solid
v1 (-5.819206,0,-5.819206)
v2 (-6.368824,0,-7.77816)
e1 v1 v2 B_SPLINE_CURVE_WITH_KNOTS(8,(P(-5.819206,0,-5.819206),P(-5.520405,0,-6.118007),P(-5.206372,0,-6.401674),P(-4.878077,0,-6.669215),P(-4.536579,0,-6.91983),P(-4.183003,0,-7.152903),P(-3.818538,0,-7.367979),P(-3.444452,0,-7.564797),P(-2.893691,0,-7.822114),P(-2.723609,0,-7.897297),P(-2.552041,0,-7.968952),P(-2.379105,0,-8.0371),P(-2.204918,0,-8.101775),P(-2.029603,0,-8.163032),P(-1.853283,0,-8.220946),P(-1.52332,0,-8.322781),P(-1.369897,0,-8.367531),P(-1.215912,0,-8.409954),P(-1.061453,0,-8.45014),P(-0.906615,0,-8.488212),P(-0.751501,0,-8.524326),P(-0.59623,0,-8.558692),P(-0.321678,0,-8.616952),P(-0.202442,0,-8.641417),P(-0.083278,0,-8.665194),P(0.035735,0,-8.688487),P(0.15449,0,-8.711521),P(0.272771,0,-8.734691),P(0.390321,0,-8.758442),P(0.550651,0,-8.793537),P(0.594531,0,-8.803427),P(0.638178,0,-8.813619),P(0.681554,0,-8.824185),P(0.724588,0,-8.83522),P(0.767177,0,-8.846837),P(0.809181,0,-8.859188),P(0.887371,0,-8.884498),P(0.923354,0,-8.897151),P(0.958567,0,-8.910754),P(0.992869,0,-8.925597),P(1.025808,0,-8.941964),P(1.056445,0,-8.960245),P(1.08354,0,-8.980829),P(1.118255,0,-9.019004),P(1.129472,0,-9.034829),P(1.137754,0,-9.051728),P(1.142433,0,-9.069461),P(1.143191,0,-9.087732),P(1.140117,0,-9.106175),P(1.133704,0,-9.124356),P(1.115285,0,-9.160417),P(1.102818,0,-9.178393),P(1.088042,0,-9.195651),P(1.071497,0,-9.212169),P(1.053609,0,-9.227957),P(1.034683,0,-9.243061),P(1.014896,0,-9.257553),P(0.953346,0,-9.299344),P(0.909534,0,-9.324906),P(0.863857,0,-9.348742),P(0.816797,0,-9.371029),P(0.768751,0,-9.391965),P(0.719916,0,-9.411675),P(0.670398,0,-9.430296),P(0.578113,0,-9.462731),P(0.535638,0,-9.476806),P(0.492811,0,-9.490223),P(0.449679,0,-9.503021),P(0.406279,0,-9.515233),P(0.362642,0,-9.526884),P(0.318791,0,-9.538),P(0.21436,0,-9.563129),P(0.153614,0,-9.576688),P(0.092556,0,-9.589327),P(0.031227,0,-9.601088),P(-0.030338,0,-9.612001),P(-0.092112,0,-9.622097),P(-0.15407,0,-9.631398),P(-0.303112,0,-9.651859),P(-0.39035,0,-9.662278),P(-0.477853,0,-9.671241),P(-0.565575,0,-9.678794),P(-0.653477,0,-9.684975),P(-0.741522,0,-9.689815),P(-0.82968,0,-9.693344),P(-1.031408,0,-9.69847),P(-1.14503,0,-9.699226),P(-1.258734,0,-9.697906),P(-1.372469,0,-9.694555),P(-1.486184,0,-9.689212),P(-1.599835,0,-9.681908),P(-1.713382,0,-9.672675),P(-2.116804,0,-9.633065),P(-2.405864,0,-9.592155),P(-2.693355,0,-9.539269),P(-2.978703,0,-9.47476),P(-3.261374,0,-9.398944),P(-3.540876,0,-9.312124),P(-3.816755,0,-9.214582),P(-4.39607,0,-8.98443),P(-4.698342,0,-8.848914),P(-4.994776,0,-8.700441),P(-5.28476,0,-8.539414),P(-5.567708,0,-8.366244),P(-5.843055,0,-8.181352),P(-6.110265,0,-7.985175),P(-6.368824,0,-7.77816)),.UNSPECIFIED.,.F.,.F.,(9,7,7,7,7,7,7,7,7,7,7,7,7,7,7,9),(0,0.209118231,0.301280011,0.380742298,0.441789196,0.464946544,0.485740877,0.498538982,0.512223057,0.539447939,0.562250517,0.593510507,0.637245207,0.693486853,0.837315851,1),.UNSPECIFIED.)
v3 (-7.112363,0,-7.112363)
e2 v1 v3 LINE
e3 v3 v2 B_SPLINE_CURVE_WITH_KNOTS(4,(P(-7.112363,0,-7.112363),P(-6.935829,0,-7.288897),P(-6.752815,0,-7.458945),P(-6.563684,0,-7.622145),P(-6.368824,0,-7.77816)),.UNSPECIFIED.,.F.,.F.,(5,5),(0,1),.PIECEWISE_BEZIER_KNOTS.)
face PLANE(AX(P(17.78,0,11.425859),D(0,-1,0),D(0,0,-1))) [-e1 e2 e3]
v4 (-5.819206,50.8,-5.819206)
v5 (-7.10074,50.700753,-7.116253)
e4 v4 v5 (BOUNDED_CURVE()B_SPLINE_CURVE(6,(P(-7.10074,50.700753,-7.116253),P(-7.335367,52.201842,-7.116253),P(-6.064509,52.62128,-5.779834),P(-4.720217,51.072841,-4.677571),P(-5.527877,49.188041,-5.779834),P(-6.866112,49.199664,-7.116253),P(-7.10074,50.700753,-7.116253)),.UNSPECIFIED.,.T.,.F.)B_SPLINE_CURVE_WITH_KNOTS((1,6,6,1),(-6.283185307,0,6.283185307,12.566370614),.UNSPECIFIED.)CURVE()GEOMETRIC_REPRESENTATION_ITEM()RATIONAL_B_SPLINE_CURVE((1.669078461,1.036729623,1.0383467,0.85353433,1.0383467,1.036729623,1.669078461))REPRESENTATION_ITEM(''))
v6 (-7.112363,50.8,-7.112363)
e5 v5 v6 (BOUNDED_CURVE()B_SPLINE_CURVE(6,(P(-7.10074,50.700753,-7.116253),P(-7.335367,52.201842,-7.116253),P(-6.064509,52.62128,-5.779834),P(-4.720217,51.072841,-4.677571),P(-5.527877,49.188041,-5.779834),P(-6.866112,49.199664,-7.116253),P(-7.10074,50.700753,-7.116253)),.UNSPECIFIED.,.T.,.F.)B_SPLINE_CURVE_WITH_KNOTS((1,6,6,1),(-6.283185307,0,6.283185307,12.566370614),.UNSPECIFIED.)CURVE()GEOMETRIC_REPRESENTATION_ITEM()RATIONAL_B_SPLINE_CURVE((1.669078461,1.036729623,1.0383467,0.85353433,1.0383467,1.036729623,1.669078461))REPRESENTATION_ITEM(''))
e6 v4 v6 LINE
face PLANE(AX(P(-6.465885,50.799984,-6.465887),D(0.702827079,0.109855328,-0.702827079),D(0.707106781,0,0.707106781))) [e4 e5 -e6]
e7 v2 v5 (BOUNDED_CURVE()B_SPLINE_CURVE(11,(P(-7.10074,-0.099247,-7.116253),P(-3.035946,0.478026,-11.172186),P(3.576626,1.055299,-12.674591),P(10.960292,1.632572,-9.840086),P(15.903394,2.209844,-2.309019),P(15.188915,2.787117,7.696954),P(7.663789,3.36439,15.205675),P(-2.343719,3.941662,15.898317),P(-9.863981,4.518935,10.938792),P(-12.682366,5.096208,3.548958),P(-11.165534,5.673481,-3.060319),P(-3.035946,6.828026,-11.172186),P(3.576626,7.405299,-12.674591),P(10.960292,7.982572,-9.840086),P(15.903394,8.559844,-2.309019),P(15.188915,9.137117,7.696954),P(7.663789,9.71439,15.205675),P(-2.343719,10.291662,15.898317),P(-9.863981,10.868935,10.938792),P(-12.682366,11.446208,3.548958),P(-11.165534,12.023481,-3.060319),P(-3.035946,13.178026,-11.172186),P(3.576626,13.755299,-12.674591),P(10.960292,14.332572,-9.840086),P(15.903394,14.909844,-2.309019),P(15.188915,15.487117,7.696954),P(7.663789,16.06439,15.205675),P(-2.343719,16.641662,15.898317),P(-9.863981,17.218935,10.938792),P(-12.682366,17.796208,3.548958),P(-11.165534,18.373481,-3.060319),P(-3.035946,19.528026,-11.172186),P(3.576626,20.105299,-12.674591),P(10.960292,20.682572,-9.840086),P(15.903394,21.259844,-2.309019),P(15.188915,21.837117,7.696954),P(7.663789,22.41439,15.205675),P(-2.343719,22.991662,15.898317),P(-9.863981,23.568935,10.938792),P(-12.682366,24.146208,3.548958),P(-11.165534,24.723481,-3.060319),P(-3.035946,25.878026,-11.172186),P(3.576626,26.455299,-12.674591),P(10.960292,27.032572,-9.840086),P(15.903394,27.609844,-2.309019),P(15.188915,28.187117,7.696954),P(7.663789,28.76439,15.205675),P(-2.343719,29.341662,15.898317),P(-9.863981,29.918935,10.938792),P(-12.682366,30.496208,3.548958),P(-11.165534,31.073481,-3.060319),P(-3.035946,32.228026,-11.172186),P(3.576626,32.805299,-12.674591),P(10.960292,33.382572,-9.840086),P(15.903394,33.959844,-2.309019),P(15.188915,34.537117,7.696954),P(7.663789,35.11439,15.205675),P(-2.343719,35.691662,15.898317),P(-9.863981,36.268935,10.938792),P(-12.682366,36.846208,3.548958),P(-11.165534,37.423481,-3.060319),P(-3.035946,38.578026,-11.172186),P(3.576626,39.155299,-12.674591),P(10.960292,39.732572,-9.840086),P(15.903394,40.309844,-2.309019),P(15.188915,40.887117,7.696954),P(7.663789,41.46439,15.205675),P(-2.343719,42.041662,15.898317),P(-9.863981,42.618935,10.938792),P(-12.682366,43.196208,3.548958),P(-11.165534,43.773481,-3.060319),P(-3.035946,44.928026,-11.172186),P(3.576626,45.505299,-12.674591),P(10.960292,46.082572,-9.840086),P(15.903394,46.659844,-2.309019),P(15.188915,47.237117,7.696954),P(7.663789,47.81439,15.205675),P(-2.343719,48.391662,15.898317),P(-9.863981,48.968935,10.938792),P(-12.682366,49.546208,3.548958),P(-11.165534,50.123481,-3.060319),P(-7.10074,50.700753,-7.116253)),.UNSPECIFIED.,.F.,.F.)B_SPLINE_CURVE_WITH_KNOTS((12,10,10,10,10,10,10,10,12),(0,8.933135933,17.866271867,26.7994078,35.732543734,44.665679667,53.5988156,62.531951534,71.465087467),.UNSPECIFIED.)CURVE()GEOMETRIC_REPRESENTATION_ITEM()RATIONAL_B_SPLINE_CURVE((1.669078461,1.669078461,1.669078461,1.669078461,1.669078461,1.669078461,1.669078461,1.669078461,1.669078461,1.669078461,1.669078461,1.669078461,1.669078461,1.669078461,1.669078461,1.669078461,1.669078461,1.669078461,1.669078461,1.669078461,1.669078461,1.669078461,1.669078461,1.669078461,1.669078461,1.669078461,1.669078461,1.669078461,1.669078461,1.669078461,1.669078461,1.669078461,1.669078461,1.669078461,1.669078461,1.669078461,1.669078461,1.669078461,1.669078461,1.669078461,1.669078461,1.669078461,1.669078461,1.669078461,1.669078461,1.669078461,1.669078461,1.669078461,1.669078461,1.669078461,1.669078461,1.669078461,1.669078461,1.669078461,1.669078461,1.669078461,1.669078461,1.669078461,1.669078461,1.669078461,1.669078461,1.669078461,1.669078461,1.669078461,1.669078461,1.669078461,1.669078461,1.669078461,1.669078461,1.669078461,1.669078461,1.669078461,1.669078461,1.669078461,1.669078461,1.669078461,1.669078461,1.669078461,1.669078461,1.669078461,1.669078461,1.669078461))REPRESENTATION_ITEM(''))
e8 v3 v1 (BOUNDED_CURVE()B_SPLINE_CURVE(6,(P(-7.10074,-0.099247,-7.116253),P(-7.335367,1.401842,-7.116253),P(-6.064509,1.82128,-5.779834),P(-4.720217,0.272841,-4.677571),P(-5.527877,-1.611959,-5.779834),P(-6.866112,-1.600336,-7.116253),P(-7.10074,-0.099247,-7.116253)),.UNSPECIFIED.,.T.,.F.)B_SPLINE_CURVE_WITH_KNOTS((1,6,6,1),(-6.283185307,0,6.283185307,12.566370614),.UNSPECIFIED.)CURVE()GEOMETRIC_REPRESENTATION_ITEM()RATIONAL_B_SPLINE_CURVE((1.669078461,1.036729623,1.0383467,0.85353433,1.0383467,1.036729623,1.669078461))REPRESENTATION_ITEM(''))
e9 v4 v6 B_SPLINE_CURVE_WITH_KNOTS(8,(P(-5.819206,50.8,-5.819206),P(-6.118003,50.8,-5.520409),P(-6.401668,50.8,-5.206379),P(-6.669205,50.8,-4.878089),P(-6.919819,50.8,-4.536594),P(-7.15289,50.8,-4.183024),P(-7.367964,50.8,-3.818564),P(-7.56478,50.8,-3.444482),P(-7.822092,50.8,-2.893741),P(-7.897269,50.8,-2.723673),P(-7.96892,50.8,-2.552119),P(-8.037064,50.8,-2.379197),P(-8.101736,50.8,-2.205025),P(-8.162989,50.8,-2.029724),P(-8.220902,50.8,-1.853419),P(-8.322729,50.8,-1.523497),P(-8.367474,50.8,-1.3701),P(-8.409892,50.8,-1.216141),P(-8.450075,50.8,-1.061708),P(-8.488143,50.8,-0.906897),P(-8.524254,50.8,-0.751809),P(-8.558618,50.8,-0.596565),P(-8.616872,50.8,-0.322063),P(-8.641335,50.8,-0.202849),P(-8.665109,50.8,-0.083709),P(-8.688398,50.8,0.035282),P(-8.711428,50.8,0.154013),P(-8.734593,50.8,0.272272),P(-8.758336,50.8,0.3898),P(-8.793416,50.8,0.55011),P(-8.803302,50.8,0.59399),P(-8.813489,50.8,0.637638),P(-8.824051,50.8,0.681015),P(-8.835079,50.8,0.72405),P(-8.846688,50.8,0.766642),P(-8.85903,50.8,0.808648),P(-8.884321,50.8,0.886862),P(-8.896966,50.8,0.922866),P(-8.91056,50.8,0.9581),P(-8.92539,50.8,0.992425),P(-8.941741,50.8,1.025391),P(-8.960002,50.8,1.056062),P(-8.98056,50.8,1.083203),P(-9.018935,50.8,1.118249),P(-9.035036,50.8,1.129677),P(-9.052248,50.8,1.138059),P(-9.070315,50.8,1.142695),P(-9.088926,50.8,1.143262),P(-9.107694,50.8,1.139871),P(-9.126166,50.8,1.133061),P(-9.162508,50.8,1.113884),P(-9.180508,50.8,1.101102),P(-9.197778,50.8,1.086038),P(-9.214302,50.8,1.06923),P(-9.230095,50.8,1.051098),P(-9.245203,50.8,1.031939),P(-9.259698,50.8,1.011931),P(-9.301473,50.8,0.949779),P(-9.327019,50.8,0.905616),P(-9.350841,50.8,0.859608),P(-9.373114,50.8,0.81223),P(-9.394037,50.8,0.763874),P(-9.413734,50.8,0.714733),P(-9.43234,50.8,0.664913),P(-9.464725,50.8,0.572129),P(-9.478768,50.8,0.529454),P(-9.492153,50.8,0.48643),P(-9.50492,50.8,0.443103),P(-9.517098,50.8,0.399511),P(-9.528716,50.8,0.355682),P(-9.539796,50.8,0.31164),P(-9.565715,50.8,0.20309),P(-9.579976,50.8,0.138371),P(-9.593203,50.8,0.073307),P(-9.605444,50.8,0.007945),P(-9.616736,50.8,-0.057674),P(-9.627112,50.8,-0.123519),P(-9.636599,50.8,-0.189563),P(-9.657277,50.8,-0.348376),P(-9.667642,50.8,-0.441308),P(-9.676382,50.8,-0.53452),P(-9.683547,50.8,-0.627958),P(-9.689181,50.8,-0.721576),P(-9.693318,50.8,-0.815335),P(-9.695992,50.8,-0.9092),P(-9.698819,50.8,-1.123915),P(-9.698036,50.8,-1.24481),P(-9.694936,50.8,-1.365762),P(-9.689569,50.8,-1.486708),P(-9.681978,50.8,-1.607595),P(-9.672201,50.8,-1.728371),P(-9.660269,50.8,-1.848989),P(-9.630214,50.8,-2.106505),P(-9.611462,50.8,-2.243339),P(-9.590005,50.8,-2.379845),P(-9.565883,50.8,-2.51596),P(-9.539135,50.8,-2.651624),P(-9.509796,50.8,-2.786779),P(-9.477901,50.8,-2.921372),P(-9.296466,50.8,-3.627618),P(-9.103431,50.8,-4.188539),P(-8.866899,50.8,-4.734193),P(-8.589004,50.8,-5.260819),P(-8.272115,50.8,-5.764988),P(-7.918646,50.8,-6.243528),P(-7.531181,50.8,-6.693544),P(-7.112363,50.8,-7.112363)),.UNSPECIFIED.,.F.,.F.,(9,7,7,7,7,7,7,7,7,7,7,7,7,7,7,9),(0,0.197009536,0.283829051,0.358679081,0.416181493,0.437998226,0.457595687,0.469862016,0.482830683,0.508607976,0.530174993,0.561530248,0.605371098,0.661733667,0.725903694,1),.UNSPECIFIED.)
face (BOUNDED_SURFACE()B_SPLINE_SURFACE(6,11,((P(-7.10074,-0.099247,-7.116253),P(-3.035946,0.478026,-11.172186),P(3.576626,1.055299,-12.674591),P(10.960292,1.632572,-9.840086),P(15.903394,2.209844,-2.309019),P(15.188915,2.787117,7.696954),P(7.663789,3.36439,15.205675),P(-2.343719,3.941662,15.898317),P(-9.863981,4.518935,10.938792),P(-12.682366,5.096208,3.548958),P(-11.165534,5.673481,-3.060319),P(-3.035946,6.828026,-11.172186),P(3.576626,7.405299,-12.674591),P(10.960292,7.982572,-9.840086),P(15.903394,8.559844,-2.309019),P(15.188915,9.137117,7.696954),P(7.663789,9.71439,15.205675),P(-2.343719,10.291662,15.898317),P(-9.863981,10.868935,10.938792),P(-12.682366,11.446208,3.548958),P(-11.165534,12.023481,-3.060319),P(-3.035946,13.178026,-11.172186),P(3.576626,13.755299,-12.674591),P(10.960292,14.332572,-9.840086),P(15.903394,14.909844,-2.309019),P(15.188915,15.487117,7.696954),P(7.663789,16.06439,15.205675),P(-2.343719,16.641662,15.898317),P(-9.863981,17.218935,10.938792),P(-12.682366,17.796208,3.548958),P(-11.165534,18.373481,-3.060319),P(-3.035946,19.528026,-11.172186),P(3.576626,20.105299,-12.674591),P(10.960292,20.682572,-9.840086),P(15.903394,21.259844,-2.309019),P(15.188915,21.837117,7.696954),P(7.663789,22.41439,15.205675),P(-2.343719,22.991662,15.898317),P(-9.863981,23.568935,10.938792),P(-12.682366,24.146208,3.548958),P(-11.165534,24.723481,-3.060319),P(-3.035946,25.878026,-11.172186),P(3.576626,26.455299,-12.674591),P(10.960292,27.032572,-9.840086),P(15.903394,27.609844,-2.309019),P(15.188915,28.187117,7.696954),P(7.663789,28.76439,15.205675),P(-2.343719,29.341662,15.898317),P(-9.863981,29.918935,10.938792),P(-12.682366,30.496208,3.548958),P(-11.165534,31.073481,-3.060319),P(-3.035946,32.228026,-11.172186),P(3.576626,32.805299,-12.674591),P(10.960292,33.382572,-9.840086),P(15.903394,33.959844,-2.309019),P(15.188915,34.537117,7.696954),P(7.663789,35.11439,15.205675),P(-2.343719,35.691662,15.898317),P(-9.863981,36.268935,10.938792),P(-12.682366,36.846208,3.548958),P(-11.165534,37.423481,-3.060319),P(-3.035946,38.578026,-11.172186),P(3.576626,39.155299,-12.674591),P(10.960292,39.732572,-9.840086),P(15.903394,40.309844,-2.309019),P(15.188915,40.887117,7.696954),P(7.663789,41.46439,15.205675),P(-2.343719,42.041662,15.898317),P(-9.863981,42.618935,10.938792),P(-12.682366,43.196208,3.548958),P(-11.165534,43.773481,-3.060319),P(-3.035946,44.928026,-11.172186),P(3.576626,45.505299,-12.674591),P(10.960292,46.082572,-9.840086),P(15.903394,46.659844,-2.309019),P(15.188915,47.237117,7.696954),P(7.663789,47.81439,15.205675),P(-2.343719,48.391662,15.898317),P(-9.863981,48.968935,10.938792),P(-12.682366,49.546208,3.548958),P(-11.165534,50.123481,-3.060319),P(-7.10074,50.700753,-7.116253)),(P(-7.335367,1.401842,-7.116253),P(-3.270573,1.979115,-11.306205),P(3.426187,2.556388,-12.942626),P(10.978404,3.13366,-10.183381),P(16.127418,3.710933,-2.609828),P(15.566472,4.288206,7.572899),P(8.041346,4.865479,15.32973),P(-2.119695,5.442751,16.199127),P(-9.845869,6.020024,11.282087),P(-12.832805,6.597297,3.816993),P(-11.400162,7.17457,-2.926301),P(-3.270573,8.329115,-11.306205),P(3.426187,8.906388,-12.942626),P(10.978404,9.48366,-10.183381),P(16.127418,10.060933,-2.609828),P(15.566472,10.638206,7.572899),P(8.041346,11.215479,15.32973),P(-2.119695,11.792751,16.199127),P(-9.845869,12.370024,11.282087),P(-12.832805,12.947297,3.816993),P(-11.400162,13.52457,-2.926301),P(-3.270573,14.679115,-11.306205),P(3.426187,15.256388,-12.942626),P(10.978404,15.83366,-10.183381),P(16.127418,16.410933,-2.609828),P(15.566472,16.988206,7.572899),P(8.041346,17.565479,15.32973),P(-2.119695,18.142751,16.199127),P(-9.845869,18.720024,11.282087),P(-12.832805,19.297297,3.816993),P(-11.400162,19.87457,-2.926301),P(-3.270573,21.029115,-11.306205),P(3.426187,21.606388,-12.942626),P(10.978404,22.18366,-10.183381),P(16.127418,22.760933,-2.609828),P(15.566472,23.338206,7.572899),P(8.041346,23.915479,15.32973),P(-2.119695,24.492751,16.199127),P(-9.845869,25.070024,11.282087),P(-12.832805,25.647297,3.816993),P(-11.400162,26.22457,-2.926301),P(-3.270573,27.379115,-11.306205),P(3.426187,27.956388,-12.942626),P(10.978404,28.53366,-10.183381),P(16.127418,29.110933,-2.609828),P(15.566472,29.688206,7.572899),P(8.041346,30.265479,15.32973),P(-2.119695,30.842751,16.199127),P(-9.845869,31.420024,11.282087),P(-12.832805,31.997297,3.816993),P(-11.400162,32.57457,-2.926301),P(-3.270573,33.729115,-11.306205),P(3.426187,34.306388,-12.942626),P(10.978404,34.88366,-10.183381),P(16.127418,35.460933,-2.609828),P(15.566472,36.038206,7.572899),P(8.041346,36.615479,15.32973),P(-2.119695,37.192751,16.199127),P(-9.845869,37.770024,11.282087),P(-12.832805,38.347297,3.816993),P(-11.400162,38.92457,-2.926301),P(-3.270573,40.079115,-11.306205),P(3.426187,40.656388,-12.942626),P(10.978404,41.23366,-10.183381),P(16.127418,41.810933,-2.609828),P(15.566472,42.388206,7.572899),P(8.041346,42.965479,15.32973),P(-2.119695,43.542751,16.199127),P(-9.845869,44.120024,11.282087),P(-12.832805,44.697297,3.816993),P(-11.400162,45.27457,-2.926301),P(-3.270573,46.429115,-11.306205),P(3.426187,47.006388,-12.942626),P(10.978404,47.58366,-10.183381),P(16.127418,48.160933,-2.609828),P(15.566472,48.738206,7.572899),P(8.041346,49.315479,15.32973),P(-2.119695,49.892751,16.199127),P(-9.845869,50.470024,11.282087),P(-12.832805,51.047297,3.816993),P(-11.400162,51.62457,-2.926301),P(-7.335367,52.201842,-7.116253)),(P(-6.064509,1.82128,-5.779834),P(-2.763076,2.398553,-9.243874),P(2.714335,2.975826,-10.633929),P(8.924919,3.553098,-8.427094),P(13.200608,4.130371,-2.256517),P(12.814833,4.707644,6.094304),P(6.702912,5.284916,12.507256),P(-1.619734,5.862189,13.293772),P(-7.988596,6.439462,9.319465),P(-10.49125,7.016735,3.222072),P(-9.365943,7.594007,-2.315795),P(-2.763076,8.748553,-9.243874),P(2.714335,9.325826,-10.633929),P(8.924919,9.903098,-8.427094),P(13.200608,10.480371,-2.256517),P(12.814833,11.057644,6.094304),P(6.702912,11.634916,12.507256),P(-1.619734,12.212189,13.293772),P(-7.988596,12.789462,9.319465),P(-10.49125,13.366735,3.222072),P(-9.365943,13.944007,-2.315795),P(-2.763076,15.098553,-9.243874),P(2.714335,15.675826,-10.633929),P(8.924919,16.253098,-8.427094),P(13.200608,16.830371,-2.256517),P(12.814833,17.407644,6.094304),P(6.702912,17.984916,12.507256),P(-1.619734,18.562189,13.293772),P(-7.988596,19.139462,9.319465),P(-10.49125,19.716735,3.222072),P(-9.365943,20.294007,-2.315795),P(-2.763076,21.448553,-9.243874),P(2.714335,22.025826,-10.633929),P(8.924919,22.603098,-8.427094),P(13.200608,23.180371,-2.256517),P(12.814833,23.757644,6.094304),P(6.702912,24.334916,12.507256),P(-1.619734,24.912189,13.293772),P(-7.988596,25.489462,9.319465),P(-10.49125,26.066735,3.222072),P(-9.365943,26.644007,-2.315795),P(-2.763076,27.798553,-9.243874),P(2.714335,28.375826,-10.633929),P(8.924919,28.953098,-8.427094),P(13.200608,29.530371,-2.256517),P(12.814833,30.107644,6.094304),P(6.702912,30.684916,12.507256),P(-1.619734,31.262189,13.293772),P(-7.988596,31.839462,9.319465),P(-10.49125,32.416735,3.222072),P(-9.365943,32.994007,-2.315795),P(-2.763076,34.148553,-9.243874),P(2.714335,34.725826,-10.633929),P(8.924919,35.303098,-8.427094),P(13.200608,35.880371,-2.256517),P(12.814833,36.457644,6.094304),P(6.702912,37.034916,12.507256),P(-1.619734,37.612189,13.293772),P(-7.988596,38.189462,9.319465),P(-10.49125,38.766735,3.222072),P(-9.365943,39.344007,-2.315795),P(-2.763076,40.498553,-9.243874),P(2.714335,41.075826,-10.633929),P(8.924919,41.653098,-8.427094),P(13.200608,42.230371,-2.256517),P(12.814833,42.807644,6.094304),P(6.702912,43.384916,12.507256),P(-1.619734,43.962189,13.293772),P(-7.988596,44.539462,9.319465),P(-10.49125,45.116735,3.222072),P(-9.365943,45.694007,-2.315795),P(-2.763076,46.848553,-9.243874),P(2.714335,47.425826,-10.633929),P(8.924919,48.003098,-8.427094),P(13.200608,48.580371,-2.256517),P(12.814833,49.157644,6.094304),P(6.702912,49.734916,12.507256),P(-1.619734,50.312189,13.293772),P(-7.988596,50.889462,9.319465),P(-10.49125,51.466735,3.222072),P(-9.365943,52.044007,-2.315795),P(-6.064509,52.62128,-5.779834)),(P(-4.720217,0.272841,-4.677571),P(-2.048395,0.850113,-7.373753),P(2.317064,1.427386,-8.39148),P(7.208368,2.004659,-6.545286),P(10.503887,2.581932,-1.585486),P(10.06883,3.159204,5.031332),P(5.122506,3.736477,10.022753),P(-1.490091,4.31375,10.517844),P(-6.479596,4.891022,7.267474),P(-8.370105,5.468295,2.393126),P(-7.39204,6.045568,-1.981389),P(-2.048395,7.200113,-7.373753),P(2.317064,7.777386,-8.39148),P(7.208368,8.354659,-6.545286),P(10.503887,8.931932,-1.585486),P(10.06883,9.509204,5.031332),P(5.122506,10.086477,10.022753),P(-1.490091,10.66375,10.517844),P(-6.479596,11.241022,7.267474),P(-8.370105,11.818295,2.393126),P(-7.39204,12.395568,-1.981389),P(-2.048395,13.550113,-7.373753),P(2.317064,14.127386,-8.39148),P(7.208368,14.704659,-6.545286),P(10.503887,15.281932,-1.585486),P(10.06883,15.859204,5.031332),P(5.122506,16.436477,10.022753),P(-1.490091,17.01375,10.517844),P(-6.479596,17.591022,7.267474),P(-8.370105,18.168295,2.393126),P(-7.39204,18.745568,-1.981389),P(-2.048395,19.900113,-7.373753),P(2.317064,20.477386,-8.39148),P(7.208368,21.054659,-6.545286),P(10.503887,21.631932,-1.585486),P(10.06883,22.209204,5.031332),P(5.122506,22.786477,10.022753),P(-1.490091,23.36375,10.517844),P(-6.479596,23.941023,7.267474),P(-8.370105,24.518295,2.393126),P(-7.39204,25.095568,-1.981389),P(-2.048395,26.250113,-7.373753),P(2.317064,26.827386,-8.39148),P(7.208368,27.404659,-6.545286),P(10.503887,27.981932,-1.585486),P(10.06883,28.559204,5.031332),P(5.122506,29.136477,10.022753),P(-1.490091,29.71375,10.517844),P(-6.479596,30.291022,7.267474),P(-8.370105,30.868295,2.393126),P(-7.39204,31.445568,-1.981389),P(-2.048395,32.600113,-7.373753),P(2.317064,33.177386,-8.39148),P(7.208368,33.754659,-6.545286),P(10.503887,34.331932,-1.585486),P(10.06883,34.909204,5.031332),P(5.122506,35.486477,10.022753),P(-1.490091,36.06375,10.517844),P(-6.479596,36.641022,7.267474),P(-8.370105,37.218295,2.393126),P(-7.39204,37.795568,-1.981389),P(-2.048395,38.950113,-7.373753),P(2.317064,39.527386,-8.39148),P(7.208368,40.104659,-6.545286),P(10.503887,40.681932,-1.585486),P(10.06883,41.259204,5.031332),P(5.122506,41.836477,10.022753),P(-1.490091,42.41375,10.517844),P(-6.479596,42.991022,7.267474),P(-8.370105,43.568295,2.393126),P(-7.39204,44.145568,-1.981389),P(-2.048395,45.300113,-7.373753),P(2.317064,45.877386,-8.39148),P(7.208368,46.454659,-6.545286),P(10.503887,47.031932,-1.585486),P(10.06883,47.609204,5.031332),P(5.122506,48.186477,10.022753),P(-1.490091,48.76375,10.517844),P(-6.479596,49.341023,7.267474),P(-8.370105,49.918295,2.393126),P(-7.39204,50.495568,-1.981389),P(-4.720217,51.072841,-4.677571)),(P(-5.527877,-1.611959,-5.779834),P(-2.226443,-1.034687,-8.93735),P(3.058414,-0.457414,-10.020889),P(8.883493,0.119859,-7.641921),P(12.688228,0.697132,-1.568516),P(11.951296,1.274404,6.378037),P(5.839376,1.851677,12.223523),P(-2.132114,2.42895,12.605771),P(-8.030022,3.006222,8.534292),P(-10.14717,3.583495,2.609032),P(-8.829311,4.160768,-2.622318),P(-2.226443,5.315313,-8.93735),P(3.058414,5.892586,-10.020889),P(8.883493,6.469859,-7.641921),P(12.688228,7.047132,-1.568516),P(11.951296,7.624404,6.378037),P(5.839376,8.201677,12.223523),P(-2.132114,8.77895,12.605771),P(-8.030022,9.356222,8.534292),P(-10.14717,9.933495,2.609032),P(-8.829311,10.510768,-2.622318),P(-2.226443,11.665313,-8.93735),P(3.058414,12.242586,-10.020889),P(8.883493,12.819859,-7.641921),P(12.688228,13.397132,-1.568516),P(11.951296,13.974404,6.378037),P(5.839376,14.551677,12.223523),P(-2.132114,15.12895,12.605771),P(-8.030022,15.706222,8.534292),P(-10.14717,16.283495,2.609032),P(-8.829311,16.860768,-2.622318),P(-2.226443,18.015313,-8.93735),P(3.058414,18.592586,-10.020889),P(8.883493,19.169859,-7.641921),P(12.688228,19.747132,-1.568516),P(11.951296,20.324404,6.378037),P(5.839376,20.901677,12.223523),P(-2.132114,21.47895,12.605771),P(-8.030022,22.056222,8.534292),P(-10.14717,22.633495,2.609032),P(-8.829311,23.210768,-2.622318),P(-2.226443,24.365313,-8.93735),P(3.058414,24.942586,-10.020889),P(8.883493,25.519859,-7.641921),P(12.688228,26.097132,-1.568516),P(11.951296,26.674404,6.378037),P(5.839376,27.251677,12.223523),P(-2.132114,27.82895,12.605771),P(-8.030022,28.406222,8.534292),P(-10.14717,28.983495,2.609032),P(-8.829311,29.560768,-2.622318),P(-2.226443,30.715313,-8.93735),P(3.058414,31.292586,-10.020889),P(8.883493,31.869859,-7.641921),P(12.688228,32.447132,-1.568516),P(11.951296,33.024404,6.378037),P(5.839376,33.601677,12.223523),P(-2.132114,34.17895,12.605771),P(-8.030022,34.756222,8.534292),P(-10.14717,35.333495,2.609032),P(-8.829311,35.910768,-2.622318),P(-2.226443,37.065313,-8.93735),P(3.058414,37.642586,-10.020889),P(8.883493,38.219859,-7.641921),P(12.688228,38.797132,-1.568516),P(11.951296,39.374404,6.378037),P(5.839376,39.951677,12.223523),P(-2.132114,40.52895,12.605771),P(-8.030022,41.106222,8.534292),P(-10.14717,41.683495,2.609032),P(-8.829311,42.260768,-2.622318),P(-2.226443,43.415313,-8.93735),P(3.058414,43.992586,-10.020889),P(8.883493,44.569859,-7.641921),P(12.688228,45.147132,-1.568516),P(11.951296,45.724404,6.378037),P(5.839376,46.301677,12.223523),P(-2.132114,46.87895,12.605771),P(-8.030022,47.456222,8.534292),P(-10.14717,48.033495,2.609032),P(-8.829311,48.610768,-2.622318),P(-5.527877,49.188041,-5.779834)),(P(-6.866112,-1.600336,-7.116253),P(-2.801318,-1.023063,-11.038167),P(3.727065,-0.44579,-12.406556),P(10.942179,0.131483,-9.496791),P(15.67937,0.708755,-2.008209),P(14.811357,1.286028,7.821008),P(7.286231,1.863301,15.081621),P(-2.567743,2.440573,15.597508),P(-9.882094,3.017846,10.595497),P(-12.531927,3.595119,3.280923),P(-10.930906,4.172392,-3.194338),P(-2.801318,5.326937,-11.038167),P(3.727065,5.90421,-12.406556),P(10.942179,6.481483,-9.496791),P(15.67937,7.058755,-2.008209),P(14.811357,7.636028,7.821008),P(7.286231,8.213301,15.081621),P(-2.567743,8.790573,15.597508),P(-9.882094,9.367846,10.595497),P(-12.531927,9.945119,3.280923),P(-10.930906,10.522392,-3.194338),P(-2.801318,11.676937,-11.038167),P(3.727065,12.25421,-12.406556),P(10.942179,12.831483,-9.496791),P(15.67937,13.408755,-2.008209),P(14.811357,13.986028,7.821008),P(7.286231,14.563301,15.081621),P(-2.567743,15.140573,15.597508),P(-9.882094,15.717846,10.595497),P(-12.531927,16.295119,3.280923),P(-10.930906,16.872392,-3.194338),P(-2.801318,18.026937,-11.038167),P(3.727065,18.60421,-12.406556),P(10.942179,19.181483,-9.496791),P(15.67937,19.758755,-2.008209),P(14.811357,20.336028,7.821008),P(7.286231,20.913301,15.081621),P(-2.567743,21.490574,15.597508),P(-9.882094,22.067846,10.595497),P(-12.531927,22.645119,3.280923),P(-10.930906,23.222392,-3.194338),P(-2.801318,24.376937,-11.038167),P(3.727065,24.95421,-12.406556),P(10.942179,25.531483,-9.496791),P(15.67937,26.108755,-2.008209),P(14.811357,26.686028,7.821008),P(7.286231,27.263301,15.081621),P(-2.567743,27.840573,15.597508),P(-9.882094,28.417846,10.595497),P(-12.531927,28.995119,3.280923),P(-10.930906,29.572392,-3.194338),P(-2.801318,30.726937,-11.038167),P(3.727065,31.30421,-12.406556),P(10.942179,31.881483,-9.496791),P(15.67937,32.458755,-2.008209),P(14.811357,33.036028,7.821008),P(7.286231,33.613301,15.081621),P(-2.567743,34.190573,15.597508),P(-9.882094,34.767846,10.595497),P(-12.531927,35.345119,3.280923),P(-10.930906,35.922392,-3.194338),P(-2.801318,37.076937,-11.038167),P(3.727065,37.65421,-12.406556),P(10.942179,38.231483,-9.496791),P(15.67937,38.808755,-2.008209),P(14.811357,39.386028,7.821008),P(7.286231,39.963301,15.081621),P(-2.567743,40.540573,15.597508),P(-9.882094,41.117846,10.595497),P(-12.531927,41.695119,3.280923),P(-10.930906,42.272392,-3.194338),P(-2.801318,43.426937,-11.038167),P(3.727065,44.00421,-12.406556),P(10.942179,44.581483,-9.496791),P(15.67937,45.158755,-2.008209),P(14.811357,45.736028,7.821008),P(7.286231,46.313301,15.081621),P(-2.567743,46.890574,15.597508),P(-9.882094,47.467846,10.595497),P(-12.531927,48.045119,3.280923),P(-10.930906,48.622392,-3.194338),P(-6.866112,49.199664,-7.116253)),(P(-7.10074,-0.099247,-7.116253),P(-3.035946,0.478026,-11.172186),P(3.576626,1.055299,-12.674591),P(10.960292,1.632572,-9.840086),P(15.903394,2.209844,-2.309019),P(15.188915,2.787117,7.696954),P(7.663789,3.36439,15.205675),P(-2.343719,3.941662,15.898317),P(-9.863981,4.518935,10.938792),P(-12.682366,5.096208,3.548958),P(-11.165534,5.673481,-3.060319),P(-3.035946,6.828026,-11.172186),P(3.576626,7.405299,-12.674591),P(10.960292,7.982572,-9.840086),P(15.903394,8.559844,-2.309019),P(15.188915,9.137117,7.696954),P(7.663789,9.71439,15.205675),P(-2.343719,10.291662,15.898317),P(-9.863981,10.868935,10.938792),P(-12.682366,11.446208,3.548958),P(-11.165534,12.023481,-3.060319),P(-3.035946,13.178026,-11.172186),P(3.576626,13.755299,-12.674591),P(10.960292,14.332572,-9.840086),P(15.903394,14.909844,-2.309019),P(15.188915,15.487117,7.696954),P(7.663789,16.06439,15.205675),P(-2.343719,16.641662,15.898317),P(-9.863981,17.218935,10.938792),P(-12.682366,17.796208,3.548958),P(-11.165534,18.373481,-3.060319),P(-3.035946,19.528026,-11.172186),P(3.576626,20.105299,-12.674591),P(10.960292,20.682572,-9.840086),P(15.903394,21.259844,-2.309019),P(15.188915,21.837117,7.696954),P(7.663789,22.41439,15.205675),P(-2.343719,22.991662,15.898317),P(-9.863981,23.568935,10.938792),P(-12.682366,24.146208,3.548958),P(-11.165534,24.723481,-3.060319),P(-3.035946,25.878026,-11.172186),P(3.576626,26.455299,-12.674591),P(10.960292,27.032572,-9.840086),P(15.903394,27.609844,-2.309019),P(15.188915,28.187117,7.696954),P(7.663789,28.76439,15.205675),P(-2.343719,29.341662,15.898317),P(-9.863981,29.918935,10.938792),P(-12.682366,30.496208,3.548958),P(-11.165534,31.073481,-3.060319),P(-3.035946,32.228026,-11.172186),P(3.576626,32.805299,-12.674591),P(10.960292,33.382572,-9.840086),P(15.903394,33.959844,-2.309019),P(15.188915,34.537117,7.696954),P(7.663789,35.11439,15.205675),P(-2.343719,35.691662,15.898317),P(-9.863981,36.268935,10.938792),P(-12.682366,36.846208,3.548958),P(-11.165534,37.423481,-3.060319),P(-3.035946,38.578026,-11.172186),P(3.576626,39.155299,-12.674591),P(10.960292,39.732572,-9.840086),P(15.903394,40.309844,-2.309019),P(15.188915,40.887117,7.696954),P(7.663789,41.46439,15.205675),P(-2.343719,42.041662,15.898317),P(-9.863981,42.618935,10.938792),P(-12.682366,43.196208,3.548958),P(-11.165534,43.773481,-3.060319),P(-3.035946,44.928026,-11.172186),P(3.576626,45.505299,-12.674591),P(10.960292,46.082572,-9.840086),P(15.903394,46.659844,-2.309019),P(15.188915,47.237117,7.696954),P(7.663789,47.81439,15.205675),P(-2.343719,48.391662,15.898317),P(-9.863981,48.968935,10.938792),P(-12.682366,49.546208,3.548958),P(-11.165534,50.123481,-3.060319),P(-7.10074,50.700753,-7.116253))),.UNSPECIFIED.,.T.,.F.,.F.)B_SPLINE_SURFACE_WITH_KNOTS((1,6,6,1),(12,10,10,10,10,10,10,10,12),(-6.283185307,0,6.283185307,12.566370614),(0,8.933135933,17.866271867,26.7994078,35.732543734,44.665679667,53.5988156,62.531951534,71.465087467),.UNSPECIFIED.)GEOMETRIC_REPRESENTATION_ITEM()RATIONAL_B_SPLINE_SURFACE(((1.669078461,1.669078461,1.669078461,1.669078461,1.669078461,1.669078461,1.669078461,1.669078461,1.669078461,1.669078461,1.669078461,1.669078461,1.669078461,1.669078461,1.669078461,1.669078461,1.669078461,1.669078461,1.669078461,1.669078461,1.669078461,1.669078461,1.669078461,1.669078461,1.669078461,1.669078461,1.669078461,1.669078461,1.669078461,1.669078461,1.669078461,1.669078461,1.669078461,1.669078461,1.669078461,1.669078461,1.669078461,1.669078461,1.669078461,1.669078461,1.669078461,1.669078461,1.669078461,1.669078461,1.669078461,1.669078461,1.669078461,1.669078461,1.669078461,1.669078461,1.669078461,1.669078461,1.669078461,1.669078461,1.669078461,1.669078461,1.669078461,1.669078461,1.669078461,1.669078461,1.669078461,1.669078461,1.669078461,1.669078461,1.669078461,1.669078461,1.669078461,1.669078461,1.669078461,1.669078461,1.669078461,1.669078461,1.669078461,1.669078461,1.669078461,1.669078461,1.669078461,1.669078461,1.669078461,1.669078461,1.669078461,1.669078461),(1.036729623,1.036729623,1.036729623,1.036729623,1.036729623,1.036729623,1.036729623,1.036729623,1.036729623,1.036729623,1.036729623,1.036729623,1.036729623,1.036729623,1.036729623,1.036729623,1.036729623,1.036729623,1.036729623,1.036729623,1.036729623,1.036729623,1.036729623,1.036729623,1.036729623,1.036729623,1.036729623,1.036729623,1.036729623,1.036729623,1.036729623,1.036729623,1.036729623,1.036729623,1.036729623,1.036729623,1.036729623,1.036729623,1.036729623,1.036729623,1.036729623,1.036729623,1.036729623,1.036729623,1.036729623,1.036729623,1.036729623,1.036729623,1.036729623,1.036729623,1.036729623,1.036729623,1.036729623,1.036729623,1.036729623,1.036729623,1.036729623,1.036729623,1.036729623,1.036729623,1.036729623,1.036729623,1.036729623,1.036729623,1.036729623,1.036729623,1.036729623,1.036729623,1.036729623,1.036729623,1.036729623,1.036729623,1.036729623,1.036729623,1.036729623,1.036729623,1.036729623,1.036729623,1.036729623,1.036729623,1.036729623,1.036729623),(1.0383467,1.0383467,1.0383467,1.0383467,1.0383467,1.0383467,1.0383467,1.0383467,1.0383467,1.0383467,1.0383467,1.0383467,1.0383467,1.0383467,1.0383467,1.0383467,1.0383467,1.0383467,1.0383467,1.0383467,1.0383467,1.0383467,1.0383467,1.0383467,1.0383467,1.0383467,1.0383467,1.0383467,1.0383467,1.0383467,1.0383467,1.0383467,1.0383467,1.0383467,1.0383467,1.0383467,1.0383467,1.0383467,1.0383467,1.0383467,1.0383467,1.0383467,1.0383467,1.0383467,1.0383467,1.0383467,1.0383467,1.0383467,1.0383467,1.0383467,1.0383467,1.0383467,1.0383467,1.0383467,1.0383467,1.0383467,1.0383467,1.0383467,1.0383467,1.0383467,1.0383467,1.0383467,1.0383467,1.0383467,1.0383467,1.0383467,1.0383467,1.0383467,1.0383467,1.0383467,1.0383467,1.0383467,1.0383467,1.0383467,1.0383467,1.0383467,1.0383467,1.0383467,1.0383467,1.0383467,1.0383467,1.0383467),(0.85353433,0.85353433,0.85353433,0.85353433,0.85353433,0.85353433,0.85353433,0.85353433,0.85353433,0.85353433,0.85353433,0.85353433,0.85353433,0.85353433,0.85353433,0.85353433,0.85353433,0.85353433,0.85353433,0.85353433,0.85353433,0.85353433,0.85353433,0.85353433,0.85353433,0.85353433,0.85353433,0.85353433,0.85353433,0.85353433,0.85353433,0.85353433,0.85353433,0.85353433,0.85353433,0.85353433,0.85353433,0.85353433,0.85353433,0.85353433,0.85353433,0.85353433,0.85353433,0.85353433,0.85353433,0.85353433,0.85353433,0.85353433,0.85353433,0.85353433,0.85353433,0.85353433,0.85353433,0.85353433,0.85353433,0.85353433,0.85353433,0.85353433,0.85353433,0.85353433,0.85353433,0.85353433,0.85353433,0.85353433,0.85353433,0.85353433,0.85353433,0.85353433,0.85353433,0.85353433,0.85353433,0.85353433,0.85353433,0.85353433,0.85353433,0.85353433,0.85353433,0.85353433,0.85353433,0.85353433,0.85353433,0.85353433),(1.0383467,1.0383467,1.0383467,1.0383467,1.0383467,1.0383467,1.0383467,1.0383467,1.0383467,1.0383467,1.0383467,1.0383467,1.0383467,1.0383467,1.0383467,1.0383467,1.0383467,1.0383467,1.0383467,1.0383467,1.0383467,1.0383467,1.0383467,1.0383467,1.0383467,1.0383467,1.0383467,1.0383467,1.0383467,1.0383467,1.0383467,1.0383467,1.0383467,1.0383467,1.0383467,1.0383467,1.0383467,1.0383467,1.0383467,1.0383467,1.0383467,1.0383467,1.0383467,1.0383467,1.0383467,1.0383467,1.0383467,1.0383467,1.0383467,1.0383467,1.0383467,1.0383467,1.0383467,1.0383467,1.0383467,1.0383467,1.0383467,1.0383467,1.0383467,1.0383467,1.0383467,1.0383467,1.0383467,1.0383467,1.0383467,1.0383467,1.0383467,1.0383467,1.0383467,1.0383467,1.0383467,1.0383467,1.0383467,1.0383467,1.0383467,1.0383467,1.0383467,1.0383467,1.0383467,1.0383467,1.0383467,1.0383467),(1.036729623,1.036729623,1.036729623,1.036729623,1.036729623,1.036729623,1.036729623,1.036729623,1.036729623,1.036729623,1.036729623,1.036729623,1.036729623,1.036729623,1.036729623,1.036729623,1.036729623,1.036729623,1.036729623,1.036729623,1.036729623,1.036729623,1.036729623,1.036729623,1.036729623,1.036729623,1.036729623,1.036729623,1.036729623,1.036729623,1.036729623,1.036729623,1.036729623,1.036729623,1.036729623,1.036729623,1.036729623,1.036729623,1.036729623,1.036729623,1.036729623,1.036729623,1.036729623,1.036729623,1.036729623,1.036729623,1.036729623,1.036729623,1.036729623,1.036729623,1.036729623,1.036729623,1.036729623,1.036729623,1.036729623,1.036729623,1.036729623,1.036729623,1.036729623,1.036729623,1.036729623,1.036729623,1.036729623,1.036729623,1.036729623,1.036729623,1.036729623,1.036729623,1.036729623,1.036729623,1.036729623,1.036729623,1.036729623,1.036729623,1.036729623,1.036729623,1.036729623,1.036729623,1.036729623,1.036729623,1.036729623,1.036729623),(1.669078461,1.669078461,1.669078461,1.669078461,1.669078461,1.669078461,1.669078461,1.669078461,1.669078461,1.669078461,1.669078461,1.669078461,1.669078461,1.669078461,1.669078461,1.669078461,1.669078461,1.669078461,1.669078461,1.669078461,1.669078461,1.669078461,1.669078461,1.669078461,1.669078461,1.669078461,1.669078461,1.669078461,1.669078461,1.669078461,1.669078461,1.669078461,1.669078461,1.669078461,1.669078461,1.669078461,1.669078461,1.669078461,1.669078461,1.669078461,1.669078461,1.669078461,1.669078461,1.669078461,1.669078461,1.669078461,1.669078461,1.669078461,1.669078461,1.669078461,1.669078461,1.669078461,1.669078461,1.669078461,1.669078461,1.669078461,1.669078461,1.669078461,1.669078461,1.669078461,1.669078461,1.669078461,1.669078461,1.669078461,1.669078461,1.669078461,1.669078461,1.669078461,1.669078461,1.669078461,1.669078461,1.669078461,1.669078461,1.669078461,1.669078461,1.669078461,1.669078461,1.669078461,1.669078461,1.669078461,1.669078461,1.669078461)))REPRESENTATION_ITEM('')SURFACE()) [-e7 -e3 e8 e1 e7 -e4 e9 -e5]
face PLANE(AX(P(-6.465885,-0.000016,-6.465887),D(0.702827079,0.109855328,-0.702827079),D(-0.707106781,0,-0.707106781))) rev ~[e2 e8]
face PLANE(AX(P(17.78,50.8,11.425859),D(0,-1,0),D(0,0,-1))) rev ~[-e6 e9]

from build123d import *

# Parameters (mm, degrees)
SWEEP1_PITCH       = 6.35
SWEEP1_HEIGHT      = 50.8
SWEEP1_RADIUS      = 9.144
SWEEP1_START_ANGLE = -135
SKETCH2_R          = 0.9144
SKETCH4_W          = 30.024724247
SKETCH4_H          = 8.703817625
SKETCH4_W_2        = 33.590879234
SKETCH4_H_2        = 12.912136067
CUT_EXTRUDE2_DEPTH = 35.56


with BuildPart() as part:
    # Sweep1: sweep along a helix
    with BuildLine() as sweep1_path:
        add(Helix(SWEEP1_PITCH, SWEEP1_HEIGHT, SWEEP1_RADIUS, center=(0, 0, 0), direction=(0, 1, 0), lefthand=True, mode=Mode.PRIVATE).rotate(Axis((0, 0, 0), (0, 1, 0)), SWEEP1_START_ANGLE))
    # Sketch2 → Sweep1 (sweep)
    with BuildSketch(Plane(origin=(-6.465784407, 50.8, -6.465784407), x_dir=(-0.6943957947187106, -0.1085374763638939, -0.7113607358447103), z_dir=(0.7028270793720716, 0.10985532760340516, -0.7028270793719266))):
        Circle(SKETCH2_R)
    sweep(path=sweep1_path.line, is_frenet=True)

    # Sketch4 → Cut-Extrude2 (cut)
    with BuildSketch(Plane(origin=(17.78, 0, 0), x_dir=(0, 0, -1), z_dir=(1, 0, 0))):
        with Locations((3.586503471, -4.351908813)):
            Rectangle(SKETCH4_W, SKETCH4_H)
        with Locations((5.369580965, 57.256068034)):
            Rectangle(SKETCH4_W_2, SKETCH4_H_2)
    extrude(amount=-CUT_EXTRUDE2_DEPTH, mode=Mode.SUBTRACT)


solid = part.part
